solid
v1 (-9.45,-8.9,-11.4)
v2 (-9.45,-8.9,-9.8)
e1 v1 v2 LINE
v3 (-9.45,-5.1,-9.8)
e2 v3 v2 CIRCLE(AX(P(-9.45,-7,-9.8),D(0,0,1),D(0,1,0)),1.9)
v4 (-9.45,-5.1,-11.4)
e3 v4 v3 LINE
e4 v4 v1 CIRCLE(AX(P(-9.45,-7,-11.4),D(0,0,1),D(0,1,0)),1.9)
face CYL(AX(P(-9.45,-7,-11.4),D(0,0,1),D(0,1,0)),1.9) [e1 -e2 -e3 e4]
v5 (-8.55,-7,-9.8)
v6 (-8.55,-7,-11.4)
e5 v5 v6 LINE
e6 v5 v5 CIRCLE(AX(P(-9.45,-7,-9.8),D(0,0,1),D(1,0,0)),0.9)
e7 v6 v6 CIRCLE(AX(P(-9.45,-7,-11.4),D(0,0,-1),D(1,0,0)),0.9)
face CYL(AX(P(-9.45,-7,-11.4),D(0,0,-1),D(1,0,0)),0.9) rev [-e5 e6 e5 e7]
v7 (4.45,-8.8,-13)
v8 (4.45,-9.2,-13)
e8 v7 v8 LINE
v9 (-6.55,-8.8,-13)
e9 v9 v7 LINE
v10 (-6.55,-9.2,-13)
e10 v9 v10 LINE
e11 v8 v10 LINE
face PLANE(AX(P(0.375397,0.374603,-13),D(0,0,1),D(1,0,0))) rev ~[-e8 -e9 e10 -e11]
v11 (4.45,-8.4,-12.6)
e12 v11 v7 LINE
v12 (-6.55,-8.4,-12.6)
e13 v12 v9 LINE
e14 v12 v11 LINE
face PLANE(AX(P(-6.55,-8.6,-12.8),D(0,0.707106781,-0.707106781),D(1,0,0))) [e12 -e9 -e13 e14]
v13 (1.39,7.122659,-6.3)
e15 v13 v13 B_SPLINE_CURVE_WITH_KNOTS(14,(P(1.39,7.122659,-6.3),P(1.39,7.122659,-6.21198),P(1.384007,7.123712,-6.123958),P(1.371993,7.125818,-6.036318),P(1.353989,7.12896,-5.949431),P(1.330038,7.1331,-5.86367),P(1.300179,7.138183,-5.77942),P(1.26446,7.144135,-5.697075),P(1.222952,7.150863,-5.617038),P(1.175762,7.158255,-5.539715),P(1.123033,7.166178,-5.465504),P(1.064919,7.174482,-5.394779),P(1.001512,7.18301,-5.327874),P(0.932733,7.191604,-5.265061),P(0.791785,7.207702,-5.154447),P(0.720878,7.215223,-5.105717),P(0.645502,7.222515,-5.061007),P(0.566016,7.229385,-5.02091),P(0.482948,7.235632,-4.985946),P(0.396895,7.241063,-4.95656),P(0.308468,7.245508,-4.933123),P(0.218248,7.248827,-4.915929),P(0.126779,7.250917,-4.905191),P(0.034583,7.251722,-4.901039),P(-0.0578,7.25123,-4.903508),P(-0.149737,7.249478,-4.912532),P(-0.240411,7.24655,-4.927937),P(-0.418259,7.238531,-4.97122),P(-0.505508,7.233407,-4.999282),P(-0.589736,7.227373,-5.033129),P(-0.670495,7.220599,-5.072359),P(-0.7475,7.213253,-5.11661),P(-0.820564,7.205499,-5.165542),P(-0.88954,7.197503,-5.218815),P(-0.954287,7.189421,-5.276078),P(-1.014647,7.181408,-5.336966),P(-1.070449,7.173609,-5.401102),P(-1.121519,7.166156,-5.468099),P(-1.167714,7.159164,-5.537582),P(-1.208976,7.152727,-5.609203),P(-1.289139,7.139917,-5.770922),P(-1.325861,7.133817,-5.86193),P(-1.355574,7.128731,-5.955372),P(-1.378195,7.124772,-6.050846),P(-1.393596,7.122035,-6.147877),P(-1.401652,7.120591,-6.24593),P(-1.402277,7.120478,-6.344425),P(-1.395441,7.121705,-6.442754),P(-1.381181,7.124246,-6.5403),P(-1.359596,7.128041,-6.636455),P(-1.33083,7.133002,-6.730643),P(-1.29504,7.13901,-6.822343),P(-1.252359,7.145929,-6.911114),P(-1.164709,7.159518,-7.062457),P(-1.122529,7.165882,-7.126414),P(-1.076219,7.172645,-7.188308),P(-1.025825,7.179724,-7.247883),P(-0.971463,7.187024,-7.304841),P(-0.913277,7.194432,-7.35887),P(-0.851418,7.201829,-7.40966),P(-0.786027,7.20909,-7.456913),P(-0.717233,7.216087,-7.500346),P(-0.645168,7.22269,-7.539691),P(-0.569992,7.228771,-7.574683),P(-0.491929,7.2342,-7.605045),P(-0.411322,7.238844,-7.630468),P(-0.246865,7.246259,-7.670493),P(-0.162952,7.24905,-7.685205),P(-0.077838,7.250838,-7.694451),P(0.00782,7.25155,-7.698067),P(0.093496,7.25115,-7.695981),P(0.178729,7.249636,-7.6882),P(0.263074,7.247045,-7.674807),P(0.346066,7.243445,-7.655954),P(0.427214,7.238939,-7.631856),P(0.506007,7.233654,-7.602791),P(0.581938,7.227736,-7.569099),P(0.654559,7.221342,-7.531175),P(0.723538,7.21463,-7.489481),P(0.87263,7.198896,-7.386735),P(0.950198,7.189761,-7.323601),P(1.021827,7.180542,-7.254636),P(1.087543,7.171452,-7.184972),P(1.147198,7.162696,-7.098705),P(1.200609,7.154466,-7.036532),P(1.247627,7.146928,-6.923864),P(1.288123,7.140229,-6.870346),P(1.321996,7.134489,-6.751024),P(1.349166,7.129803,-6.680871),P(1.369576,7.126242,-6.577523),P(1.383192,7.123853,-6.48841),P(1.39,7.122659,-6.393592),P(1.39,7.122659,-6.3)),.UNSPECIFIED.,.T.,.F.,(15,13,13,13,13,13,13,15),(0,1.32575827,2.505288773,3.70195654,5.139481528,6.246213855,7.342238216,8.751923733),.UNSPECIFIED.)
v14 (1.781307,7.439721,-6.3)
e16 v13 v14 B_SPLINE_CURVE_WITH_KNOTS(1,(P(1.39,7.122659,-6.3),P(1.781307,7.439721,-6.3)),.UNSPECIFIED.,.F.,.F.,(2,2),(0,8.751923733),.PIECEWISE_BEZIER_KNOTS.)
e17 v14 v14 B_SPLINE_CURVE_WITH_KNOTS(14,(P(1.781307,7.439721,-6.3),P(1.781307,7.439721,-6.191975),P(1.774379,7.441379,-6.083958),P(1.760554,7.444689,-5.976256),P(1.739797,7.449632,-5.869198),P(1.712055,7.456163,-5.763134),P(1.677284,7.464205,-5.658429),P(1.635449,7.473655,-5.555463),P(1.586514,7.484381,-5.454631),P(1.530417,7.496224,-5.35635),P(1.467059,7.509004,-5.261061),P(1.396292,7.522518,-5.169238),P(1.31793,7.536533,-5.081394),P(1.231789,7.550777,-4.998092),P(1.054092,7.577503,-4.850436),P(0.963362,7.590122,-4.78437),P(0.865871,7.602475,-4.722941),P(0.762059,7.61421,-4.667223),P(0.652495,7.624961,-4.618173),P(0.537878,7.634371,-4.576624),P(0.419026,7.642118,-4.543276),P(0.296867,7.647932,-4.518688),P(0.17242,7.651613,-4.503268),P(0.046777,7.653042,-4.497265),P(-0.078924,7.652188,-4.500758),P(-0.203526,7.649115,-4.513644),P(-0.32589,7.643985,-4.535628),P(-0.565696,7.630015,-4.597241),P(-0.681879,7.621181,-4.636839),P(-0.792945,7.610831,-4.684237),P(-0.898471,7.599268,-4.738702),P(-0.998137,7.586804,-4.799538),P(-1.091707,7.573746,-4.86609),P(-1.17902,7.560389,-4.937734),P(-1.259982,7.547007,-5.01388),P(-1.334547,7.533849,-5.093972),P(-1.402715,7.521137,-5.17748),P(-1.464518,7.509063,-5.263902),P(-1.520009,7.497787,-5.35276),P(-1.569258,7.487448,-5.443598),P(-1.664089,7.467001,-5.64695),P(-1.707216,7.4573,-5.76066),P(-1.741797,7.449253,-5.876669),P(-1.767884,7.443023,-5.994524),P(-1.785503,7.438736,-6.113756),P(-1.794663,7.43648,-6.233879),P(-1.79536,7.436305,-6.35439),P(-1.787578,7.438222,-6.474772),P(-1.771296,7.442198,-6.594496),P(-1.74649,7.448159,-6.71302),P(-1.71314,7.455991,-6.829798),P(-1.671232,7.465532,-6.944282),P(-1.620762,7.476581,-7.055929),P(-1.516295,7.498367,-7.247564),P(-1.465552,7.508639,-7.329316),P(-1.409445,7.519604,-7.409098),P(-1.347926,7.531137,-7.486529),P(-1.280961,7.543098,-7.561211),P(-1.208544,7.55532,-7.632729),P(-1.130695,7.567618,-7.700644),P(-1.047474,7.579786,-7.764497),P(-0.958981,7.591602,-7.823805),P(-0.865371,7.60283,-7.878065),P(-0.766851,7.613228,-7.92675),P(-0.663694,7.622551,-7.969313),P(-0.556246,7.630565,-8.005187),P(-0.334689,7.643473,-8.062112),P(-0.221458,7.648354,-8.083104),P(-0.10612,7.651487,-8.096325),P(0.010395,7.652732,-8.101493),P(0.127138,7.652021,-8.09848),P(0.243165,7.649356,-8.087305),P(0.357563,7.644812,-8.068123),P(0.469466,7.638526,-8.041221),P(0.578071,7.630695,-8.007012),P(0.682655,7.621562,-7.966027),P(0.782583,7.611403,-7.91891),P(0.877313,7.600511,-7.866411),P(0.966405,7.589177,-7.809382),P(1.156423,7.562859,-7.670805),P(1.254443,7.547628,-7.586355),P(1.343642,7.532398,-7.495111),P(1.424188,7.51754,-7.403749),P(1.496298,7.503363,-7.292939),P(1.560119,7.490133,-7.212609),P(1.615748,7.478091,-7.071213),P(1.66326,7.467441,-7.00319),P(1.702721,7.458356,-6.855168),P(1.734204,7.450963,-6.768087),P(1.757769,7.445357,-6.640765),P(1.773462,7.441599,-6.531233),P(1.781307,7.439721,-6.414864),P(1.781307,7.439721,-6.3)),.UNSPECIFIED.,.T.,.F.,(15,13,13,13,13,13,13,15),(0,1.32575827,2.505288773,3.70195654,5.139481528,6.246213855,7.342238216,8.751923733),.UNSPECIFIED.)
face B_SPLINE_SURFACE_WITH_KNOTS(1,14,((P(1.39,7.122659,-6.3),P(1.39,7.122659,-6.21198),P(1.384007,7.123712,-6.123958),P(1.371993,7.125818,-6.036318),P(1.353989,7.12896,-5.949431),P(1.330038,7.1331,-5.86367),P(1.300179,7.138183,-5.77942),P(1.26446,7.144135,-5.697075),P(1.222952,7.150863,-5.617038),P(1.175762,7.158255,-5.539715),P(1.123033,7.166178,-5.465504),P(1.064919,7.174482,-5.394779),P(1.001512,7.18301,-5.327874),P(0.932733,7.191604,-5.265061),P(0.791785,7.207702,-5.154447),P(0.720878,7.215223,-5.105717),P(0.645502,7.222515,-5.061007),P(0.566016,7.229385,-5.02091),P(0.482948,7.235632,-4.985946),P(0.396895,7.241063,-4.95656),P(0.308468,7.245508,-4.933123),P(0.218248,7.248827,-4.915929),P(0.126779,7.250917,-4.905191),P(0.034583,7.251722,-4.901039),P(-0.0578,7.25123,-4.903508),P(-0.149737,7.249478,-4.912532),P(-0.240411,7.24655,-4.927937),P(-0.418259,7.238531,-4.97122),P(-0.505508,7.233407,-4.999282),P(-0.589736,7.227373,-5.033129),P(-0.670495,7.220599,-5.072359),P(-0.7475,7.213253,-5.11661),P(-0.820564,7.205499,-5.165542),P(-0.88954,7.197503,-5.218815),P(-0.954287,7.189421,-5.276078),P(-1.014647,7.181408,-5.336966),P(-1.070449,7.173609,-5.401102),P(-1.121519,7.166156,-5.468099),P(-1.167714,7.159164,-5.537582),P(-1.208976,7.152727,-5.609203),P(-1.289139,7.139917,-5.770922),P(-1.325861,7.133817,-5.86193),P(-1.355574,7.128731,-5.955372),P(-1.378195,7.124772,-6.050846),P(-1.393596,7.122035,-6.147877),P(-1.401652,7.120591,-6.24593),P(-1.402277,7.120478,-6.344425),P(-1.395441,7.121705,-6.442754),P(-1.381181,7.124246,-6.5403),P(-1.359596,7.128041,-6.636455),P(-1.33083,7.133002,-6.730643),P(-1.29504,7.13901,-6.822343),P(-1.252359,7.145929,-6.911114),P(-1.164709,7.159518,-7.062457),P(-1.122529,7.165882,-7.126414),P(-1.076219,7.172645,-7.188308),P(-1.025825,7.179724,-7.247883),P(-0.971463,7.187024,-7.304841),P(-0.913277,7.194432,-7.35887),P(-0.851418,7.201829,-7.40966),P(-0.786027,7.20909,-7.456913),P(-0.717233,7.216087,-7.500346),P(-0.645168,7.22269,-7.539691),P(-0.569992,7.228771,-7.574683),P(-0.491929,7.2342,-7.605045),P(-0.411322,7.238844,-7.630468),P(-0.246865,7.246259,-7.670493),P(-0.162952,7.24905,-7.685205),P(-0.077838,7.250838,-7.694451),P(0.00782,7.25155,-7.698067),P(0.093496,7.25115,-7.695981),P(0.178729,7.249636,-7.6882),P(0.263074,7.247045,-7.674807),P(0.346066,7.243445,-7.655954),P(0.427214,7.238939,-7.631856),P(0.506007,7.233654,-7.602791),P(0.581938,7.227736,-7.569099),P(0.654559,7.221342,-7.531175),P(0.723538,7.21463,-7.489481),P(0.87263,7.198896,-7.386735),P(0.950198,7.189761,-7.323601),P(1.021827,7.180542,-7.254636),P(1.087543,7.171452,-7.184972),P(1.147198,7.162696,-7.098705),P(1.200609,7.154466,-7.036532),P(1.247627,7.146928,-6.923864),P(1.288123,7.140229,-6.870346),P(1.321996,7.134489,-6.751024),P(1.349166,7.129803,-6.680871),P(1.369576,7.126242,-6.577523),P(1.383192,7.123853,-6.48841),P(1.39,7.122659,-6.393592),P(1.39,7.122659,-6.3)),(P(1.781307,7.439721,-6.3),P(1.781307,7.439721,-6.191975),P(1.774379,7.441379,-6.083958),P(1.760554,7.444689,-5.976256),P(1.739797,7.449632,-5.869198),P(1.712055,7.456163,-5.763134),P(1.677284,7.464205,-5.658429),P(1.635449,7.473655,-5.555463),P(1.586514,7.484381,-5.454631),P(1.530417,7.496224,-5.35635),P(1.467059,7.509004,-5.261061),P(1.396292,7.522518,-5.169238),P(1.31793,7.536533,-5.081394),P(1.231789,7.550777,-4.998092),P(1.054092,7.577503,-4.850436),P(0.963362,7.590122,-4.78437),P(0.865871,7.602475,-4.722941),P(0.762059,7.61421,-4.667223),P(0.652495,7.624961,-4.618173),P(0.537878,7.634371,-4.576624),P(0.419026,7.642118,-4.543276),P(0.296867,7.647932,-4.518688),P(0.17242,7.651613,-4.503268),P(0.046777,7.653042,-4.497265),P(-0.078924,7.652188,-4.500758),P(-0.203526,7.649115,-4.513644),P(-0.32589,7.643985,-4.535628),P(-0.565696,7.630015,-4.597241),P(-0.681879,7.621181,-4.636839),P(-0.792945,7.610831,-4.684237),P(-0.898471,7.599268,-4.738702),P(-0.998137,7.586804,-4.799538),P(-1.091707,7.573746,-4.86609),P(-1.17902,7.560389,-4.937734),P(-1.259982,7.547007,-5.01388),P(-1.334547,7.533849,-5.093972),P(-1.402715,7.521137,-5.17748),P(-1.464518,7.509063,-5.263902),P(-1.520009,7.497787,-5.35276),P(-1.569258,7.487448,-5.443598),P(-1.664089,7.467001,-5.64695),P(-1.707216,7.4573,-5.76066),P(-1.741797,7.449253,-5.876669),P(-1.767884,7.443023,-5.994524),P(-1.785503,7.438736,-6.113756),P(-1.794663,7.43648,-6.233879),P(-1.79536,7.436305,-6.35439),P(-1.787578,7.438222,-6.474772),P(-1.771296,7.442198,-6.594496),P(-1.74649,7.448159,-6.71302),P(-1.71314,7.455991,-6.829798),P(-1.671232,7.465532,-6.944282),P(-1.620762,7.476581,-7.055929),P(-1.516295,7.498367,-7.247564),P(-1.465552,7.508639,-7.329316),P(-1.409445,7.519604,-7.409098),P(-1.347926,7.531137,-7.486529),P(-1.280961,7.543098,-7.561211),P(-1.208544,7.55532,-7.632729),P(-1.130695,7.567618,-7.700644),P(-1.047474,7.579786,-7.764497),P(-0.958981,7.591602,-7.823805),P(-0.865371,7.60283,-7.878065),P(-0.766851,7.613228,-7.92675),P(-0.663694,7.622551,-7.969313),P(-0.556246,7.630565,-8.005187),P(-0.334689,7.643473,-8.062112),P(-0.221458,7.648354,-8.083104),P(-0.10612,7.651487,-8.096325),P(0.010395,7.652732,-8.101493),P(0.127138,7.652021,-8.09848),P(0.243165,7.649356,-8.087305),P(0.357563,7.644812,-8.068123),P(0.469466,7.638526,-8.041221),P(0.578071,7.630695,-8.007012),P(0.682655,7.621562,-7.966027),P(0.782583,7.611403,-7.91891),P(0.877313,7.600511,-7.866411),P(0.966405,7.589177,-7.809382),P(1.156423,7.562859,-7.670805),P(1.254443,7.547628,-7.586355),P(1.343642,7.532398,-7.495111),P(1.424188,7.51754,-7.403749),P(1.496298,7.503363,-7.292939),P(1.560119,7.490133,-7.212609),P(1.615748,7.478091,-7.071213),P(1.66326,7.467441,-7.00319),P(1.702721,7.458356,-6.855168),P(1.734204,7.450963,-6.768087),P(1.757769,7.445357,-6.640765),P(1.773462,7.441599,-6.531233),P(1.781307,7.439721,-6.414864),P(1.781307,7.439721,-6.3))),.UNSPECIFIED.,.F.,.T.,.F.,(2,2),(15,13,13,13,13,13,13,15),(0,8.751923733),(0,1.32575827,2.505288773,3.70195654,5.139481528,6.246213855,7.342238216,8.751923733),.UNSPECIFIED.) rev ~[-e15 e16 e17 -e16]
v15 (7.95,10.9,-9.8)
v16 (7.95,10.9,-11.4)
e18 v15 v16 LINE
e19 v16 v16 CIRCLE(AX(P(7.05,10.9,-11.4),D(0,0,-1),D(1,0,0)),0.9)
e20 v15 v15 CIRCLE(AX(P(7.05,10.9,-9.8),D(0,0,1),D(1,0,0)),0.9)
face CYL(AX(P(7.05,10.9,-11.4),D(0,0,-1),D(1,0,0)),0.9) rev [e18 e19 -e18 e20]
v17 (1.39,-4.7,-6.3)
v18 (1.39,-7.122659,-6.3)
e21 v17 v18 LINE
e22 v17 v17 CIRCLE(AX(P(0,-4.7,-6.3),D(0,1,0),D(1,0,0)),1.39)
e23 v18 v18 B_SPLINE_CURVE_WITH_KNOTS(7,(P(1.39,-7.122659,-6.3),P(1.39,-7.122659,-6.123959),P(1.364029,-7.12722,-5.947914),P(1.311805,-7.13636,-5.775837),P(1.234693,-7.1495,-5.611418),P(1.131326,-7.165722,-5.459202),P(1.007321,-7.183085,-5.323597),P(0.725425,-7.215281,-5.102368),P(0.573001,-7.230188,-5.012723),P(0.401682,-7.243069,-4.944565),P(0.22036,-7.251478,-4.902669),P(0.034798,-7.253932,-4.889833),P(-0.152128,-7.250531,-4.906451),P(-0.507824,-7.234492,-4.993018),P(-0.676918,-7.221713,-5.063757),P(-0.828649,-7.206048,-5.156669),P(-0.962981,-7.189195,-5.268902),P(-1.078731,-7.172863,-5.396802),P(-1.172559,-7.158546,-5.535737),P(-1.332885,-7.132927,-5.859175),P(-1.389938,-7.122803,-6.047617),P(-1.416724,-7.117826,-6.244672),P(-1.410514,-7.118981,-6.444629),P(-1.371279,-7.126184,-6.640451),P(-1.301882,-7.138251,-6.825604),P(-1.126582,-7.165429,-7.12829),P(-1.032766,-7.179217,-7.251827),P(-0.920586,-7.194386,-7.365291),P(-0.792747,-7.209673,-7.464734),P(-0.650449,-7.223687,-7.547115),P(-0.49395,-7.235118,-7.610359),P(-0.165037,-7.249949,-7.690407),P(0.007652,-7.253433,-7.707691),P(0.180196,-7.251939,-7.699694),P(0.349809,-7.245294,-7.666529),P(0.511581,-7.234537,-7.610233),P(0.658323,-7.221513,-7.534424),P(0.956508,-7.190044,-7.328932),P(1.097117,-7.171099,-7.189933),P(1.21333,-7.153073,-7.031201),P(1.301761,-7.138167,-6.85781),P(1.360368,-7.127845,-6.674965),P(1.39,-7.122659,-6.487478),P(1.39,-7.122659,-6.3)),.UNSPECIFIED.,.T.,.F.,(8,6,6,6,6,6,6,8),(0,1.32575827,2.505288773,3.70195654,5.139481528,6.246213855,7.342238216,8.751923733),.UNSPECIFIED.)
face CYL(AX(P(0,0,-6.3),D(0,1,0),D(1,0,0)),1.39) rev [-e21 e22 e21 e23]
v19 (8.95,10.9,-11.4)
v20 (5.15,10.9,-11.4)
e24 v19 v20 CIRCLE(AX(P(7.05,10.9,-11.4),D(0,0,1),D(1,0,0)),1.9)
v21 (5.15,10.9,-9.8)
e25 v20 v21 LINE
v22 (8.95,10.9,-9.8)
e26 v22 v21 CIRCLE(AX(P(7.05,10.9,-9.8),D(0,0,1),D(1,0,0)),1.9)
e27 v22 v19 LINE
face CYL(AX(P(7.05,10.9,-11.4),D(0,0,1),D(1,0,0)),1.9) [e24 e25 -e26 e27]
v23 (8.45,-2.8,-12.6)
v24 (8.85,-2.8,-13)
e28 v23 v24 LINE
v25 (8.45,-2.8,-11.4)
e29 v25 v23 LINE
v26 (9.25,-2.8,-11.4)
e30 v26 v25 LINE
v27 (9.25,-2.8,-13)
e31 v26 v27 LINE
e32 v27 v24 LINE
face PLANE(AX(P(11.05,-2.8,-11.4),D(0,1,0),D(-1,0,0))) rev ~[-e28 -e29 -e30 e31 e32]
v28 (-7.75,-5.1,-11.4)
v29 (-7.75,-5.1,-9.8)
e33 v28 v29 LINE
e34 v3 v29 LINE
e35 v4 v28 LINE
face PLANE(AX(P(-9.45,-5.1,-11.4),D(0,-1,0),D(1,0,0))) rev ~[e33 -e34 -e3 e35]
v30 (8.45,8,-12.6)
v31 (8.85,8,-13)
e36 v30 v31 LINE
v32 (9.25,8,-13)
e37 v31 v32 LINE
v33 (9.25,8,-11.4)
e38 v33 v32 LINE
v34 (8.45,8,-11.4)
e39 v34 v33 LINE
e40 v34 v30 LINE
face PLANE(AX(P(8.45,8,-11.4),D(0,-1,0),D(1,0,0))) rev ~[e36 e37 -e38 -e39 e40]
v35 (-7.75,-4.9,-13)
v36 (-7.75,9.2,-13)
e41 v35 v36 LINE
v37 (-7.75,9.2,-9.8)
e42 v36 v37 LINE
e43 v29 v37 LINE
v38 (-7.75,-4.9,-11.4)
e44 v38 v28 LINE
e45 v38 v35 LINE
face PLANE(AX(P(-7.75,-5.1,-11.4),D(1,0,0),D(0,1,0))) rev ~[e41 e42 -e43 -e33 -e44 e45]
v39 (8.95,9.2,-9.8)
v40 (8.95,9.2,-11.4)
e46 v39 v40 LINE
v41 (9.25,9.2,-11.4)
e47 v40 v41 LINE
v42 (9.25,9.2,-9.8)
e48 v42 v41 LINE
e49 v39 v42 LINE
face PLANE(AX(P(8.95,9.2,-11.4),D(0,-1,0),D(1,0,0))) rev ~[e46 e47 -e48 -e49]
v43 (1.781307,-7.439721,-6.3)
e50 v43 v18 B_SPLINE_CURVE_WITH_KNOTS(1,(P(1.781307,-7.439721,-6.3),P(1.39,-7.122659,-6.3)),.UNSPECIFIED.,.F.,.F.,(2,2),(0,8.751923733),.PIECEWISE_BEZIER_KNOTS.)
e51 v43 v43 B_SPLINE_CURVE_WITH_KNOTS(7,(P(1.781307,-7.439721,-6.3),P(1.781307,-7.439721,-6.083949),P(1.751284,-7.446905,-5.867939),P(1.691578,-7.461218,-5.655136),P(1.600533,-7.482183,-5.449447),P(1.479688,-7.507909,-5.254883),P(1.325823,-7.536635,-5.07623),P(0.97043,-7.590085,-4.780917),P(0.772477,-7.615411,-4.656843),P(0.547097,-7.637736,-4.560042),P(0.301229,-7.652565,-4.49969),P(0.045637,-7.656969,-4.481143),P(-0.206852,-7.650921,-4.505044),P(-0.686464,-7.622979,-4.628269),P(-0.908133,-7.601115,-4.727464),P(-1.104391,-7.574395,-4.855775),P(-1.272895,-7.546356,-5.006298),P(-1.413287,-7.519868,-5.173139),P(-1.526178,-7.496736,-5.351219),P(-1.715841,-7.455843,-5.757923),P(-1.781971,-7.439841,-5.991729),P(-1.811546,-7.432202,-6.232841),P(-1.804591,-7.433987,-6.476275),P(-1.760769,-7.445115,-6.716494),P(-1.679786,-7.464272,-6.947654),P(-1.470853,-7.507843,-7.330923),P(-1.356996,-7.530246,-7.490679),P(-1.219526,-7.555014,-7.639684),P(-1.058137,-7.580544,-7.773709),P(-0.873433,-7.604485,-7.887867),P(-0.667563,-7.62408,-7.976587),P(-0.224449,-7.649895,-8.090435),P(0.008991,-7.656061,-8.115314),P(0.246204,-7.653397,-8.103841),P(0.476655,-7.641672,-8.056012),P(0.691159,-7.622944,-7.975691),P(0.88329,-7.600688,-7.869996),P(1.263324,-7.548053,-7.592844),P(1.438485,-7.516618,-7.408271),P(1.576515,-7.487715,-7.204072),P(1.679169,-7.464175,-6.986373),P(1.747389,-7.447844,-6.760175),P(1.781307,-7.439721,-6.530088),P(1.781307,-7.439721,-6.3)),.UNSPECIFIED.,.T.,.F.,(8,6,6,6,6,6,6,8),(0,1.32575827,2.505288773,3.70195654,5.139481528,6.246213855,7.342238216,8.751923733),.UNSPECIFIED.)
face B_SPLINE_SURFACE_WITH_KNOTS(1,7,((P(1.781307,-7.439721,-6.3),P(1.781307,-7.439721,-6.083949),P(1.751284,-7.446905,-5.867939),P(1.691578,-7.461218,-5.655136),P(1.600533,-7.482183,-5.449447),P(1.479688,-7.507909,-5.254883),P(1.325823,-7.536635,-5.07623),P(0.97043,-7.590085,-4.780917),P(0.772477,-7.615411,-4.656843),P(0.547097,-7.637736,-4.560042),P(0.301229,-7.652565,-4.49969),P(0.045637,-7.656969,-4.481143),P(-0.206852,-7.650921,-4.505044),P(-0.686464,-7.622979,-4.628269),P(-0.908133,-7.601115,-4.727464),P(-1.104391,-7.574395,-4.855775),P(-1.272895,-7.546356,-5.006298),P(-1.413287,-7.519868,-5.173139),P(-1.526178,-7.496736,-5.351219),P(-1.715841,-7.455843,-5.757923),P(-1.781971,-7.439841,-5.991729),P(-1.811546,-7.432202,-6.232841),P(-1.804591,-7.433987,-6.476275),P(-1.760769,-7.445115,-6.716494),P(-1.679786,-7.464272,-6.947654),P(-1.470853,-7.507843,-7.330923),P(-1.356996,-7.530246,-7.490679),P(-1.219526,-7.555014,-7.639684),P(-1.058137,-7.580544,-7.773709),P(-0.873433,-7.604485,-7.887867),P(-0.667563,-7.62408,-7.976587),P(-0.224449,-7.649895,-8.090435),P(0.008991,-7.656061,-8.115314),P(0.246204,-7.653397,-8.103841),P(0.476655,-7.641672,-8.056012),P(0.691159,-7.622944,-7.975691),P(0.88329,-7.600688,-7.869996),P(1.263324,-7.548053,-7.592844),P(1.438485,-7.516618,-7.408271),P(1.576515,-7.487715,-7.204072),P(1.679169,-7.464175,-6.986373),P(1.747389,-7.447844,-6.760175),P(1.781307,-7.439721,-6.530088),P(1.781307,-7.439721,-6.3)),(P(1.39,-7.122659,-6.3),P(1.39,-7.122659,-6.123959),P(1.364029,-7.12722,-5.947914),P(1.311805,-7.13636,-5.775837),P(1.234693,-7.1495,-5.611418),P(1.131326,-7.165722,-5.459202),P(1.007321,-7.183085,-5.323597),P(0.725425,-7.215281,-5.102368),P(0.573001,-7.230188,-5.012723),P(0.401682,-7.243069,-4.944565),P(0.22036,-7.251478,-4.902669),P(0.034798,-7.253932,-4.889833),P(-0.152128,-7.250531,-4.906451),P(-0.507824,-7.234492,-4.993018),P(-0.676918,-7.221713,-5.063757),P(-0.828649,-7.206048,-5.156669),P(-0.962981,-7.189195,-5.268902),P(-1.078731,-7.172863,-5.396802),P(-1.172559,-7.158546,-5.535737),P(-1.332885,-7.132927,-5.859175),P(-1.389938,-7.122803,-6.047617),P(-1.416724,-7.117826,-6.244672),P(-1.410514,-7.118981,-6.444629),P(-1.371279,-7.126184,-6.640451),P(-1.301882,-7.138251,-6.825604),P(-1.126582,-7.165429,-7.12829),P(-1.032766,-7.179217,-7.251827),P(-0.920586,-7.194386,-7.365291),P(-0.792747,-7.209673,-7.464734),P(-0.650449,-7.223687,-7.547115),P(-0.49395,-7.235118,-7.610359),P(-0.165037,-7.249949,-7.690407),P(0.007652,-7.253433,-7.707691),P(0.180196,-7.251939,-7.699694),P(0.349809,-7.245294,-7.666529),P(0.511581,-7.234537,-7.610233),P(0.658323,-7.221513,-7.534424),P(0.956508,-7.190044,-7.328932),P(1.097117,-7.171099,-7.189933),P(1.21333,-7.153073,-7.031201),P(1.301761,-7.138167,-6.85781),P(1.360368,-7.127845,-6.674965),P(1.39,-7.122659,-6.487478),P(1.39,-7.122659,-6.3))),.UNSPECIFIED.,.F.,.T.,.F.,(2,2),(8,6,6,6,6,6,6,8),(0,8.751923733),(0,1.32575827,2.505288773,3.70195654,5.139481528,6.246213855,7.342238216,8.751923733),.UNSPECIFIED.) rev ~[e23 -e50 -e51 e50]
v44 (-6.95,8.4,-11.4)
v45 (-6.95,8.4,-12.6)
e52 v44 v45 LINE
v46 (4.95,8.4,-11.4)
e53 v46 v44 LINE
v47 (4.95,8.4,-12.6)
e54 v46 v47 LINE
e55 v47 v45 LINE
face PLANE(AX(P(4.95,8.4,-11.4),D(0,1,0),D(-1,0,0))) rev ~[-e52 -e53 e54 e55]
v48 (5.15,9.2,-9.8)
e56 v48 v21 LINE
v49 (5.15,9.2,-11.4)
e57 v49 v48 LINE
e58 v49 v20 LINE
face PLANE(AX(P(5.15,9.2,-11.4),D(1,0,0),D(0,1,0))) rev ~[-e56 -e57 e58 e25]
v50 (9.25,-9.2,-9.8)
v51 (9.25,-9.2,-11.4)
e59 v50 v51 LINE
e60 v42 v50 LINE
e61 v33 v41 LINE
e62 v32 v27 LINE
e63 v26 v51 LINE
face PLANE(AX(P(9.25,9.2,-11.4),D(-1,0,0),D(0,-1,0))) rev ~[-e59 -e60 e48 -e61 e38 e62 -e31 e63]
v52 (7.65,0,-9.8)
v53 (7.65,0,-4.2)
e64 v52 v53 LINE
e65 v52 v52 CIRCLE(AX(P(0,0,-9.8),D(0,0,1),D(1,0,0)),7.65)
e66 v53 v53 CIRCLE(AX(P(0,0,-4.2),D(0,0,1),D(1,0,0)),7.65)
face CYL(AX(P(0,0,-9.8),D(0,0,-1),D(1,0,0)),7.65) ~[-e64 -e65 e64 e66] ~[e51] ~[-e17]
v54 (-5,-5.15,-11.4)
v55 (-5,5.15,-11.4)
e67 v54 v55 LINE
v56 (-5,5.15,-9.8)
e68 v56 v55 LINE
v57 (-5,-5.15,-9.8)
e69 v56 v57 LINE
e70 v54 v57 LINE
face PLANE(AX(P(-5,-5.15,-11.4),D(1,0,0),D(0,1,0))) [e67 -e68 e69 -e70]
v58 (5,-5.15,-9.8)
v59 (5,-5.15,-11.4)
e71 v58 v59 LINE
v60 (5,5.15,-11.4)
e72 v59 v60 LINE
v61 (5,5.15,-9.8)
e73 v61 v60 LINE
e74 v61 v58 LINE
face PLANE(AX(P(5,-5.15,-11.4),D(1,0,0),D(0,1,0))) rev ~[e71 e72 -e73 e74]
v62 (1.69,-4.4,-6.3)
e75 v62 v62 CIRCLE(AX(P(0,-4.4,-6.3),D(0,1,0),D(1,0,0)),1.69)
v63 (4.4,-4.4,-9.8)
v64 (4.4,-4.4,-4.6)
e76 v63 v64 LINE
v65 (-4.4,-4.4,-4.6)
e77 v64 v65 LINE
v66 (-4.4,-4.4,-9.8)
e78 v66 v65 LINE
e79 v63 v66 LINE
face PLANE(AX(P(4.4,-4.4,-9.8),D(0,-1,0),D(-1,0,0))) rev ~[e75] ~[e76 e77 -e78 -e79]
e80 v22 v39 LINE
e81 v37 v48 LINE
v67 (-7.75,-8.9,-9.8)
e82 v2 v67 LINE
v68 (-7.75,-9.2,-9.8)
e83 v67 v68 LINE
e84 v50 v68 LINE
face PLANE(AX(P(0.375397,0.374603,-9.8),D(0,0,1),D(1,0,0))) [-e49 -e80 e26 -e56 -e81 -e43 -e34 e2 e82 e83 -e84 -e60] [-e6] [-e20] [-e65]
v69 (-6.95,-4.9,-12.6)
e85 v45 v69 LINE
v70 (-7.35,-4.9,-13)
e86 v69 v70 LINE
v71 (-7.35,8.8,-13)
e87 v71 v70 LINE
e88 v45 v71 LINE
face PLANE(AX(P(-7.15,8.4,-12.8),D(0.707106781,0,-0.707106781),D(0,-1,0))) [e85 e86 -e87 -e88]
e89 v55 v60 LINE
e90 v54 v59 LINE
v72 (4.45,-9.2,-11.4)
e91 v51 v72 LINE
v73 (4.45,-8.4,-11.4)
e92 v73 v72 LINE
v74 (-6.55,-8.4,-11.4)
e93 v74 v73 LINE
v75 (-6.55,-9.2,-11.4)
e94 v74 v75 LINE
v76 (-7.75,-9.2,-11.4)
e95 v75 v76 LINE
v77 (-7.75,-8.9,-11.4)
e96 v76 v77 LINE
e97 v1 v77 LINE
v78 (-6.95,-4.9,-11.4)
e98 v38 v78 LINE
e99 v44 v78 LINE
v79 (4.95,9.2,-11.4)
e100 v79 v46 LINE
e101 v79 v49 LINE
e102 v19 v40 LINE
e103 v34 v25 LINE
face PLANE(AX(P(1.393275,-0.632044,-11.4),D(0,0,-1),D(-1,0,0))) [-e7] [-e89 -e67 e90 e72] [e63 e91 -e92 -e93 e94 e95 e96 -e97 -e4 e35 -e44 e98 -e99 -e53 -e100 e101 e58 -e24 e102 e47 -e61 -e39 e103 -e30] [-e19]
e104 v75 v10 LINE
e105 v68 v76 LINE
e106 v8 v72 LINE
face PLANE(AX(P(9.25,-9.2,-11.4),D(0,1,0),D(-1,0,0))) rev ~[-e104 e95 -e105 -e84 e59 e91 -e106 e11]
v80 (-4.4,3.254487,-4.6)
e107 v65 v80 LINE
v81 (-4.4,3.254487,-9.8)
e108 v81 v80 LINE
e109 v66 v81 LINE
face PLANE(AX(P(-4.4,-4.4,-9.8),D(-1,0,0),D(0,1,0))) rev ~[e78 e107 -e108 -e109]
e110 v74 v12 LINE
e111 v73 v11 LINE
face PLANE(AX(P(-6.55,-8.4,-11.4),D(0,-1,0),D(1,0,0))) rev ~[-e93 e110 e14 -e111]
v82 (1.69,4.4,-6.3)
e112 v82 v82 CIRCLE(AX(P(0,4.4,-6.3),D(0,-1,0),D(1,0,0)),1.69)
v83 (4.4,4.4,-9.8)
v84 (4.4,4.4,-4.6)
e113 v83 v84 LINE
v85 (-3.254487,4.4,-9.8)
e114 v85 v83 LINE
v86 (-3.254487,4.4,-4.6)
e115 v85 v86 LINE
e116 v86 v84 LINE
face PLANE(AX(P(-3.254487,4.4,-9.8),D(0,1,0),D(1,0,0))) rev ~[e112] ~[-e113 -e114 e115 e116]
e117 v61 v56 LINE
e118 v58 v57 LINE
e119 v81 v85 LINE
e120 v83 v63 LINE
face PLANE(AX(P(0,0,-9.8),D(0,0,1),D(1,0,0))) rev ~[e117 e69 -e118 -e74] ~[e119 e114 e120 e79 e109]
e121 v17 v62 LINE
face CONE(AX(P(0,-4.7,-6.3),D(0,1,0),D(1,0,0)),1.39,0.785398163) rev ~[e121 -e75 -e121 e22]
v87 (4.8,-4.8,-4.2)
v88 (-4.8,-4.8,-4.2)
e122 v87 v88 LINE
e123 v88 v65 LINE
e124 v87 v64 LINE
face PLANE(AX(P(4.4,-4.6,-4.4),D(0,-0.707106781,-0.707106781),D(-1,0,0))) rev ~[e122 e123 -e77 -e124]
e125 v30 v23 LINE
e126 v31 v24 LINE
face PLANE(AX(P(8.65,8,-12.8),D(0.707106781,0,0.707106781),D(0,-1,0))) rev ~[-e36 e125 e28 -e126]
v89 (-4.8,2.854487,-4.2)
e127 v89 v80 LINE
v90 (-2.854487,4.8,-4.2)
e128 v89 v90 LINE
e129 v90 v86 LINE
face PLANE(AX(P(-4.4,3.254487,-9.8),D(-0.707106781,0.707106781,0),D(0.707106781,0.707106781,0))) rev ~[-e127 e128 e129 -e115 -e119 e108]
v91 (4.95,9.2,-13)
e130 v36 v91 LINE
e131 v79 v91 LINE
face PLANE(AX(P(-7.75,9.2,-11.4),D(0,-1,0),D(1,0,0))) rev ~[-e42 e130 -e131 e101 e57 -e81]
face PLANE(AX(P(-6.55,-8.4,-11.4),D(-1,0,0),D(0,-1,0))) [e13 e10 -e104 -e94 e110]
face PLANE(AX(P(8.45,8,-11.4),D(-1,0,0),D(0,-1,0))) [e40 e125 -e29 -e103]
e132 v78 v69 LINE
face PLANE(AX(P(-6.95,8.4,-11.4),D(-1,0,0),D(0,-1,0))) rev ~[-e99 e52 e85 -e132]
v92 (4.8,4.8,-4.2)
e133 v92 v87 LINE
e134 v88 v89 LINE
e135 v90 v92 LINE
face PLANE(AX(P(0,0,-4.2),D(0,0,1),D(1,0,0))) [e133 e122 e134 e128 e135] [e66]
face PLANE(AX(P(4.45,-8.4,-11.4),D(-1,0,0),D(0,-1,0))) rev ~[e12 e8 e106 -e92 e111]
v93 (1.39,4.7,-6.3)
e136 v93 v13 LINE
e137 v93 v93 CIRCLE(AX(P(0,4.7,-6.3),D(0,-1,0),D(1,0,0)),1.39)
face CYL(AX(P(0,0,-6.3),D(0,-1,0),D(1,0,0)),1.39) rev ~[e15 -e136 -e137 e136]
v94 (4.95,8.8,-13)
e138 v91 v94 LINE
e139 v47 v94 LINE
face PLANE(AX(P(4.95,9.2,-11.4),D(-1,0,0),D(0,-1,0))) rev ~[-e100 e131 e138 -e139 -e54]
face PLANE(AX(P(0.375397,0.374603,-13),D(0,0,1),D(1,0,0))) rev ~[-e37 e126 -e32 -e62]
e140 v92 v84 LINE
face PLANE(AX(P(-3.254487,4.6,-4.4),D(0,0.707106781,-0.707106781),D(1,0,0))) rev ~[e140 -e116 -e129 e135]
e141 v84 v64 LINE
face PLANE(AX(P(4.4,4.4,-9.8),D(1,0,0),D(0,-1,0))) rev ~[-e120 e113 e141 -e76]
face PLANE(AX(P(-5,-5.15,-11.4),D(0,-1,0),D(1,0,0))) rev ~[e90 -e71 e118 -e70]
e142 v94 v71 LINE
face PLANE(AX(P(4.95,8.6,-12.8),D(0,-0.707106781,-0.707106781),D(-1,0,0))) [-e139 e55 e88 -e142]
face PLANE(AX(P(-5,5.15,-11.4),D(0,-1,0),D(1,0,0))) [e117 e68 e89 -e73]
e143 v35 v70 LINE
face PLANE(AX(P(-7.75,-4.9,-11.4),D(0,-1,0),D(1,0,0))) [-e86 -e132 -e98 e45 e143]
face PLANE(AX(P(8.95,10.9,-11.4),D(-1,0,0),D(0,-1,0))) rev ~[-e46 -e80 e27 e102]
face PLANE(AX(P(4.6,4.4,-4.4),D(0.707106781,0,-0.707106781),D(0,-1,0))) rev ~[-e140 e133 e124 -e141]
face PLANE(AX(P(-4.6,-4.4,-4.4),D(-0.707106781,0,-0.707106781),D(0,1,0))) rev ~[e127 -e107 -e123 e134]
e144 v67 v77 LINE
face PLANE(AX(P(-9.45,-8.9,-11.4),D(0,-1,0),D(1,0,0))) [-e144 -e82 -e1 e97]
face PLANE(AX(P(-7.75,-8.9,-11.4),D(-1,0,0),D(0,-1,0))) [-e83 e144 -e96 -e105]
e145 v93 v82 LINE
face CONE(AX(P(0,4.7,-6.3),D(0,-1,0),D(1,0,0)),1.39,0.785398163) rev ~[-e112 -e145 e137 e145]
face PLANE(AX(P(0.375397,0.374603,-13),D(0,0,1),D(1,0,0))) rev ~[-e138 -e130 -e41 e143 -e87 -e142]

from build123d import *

# Parameters (mm, degrees)
SKETCH004_R          = 0.9
PAD_DEPTH            = 1.6
SKETCH007_W          = 10
SKETCH007_H          = 10.3
POCKET001_DEPTH      = 1.601
POCKET001_DEPTH_BACK = 1.601
POCKET_DEPTH         = 1.6
CHAMFER001_SIZE      = 0.4
SKETCH008_R          = 7.65
PAD001_DEPTH         = 5.6
CHAMFER_SIZE         = 0.4
SKETCH029_R          = 1.39
POCKET016_DEPTH      = 12.801
POCKET016_DEPTH_BACK = 9.201
CHAMFER002_SIZE      = 0.4
CHAMFER003_SIZE      = 0.3
CHAMFER004_SIZE      = 0.3
CHAMFER005_SIZE      = 0.4


with BuildPart() as part:
    # Sketch004 → Pad (new body, symmetric)
    with BuildSketch(Plane.XY.offset(-11.4)):
        with BuildLine():
            ThreePointArc((8.95, 10.9), (7.05, 12.8), (5.15, 10.9))
            Line((5.15, 9.2), (5.15, 10.9))
            Line((-7.75, 9.2), (5.15, 9.2))
            Line((-7.75, -5.1), (-7.75, 9.2))
            Line((-9.45, -5.1), (-7.75, -5.1))
            ThreePointArc((-9.45, -5.1), (-11.35, -7), (-9.45, -8.9))
            Line((-9.45, -8.9), (-7.75, -8.9))
            Line((-7.75, -8.9), (-7.75, -9.2))
            Line((9.25, -9.2), (-7.75, -9.2))
            Line((9.25, 9.2), (9.25, -9.2))
            Line((8.95, 9.2), (9.25, 9.2))
            Line((8.95, 10.9), (8.95, 9.2))
        make_face()
        with Locations((-9.45, -7)):
            Circle(SKETCH004_R, mode=Mode.SUBTRACT)
        with Locations((7.05, 10.9)):
            Circle(SKETCH004_R, mode=Mode.SUBTRACT)
    extrude(amount=PAD_DEPTH, both=True)

    # Sketch007 → Pocket001 (cut, two sides)
    with BuildSketch(Plane.XY.offset(-11.4)) as pocket001_sk:
        Rectangle(SKETCH007_W, SKETCH007_H)
    extrude(amount=-POCKET001_DEPTH, mode=Mode.SUBTRACT)
    extrude(pocket001_sk.sketch, amount=POCKET001_DEPTH_BACK, mode=Mode.SUBTRACT)

    # Sketch006 → Pocket (cut)
    with BuildSketch(Plane.XY.offset(-11.4)):
        with BuildLine():
            Line((8.45, 8), (8.45, -2.8))
            Line((11.05, -2.8), (8.45, -2.8))
            Line((11.05, -11), (11.05, -2.8))
            Line((4.45, -11), (11.05, -11))
            Line((4.45, -8.4), (4.45, -11))
            Line((-6.55, -8.4), (4.45, -8.4))
            Line((-6.55, -8.4), (-6.55, -8.9))
            Line((-6.55, -8.9), (-6.55, -9.2))
            Line((-6.55, -9.2), (-7.75, -9.2))
            Line((-7.75, -9.2), (-7.75, -8.9))
            Line((-9.65, -8.9), (-7.75, -8.9))
            ThreePointArc((-9.65, -5.1), (-11.55, -7), (-9.65, -8.9))
            Line((-9.65, -5.1), (-7.75, -5.1))
            Line((-7.75, -4.9), (-7.75, -5.1))
            Line((-7.75, -4.9), (-6.95, -4.9))
            Line((-6.95, 8.4), (-6.95, -4.9))
            Line((4.95, 8.4), (-6.95, 8.4))
            Line((4.95, 9.2), (4.95, 8.4))
            Line((4.95, 9.2), (5.15, 9.2))
            Line((5.15, 9.2), (5.15, 11.1))
            ThreePointArc((8.95, 11.1), (7.05, 13), (5.15, 11.1))
            Line((8.95, 11.1), (8.95, 9.2))
            Line((8.95, 9.2), (9.25, 9.2))
            Line((9.25, 8), (9.25, 9.2))
            Line((8.95, 8), (9.25, 8))
            Line((8.95, 8), (8.45, 8))
        make_face()
    extrude(amount=-POCKET_DEPTH, mode=Mode.SUBTRACT)

    # Chamfer001
    chamfer001_edges = [part.edges().sort_by_distance(p)[0] for p in [
        (-6.95, 1.75, -13),
        (-1, 8.4, -13),
        (8.45, 2.6, -13),
        (-1.05, -8.4, -13),
    ]]
    chamfer(chamfer001_edges, length=CHAMFER001_SIZE)

    # Sketch008 (on Face5 of Pocket001) → Pad001 (join)
    with BuildSketch(Plane.XY.offset(-9.8)):
        Circle(SKETCH008_R)
        Polygon((-4.4, 3.254487), (-3.254487, 4.4), (4.4, 4.4), (4.4, -4.4), (-4.4, -4.4), align=None, mode=Mode.SUBTRACT)
    extrude(amount=PAD001_DEPTH)

    # Chamfer
    chamfer_edges = [part.edges().sort_by_distance(p)[0] for p in [
        (4.4, 0, -4.2),
        (0.572756, 4.4, -4.2),
        (0, -4.4, -4.2),
        (-4.4, -0.572756, -4.2),
    ]]
    chamfer(chamfer_edges, length=CHAMFER_SIZE)

    # Sketch029 → Pocket016 (cut, two sides)
    with BuildSketch(Plane.XZ) as pocket016_sk:
        with Locations((0, -6.3)):
            Circle(SKETCH029_R)
    extrude(amount=-POCKET016_DEPTH, mode=Mode.SUBTRACT)
    extrude(pocket016_sk.sketch, amount=POCKET016_DEPTH_BACK, mode=Mode.SUBTRACT)

    # Chamfer002
    chamfer002_edges = [part.edges().sort_by_distance(p)[0] for p in [
        (-1.39, -7.522659, -6.3),
    ]]
    chamfer(chamfer002_edges, length=CHAMFER002_SIZE)

    # Chamfer003
    chamfer003_edges = [part.edges().sort_by_distance(p)[0] for p in [
        (-1.39, -4.4, -6.3),
    ]]
    chamfer(chamfer003_edges, length=CHAMFER003_SIZE)

    # Chamfer004
    chamfer004_edges = [part.edges().sort_by_distance(p)[0] for p in [
        (-1.39, 4.4, -6.3),
    ]]
    chamfer(chamfer004_edges, length=CHAMFER004_SIZE)

    # Chamfer005
    chamfer005_edges = [part.edges().sort_by_distance(p)[0] for p in [
        (-1.39, 7.522659, -6.3),
    ]]
    chamfer(chamfer005_edges, length=CHAMFER005_SIZE)


solid = part.part
